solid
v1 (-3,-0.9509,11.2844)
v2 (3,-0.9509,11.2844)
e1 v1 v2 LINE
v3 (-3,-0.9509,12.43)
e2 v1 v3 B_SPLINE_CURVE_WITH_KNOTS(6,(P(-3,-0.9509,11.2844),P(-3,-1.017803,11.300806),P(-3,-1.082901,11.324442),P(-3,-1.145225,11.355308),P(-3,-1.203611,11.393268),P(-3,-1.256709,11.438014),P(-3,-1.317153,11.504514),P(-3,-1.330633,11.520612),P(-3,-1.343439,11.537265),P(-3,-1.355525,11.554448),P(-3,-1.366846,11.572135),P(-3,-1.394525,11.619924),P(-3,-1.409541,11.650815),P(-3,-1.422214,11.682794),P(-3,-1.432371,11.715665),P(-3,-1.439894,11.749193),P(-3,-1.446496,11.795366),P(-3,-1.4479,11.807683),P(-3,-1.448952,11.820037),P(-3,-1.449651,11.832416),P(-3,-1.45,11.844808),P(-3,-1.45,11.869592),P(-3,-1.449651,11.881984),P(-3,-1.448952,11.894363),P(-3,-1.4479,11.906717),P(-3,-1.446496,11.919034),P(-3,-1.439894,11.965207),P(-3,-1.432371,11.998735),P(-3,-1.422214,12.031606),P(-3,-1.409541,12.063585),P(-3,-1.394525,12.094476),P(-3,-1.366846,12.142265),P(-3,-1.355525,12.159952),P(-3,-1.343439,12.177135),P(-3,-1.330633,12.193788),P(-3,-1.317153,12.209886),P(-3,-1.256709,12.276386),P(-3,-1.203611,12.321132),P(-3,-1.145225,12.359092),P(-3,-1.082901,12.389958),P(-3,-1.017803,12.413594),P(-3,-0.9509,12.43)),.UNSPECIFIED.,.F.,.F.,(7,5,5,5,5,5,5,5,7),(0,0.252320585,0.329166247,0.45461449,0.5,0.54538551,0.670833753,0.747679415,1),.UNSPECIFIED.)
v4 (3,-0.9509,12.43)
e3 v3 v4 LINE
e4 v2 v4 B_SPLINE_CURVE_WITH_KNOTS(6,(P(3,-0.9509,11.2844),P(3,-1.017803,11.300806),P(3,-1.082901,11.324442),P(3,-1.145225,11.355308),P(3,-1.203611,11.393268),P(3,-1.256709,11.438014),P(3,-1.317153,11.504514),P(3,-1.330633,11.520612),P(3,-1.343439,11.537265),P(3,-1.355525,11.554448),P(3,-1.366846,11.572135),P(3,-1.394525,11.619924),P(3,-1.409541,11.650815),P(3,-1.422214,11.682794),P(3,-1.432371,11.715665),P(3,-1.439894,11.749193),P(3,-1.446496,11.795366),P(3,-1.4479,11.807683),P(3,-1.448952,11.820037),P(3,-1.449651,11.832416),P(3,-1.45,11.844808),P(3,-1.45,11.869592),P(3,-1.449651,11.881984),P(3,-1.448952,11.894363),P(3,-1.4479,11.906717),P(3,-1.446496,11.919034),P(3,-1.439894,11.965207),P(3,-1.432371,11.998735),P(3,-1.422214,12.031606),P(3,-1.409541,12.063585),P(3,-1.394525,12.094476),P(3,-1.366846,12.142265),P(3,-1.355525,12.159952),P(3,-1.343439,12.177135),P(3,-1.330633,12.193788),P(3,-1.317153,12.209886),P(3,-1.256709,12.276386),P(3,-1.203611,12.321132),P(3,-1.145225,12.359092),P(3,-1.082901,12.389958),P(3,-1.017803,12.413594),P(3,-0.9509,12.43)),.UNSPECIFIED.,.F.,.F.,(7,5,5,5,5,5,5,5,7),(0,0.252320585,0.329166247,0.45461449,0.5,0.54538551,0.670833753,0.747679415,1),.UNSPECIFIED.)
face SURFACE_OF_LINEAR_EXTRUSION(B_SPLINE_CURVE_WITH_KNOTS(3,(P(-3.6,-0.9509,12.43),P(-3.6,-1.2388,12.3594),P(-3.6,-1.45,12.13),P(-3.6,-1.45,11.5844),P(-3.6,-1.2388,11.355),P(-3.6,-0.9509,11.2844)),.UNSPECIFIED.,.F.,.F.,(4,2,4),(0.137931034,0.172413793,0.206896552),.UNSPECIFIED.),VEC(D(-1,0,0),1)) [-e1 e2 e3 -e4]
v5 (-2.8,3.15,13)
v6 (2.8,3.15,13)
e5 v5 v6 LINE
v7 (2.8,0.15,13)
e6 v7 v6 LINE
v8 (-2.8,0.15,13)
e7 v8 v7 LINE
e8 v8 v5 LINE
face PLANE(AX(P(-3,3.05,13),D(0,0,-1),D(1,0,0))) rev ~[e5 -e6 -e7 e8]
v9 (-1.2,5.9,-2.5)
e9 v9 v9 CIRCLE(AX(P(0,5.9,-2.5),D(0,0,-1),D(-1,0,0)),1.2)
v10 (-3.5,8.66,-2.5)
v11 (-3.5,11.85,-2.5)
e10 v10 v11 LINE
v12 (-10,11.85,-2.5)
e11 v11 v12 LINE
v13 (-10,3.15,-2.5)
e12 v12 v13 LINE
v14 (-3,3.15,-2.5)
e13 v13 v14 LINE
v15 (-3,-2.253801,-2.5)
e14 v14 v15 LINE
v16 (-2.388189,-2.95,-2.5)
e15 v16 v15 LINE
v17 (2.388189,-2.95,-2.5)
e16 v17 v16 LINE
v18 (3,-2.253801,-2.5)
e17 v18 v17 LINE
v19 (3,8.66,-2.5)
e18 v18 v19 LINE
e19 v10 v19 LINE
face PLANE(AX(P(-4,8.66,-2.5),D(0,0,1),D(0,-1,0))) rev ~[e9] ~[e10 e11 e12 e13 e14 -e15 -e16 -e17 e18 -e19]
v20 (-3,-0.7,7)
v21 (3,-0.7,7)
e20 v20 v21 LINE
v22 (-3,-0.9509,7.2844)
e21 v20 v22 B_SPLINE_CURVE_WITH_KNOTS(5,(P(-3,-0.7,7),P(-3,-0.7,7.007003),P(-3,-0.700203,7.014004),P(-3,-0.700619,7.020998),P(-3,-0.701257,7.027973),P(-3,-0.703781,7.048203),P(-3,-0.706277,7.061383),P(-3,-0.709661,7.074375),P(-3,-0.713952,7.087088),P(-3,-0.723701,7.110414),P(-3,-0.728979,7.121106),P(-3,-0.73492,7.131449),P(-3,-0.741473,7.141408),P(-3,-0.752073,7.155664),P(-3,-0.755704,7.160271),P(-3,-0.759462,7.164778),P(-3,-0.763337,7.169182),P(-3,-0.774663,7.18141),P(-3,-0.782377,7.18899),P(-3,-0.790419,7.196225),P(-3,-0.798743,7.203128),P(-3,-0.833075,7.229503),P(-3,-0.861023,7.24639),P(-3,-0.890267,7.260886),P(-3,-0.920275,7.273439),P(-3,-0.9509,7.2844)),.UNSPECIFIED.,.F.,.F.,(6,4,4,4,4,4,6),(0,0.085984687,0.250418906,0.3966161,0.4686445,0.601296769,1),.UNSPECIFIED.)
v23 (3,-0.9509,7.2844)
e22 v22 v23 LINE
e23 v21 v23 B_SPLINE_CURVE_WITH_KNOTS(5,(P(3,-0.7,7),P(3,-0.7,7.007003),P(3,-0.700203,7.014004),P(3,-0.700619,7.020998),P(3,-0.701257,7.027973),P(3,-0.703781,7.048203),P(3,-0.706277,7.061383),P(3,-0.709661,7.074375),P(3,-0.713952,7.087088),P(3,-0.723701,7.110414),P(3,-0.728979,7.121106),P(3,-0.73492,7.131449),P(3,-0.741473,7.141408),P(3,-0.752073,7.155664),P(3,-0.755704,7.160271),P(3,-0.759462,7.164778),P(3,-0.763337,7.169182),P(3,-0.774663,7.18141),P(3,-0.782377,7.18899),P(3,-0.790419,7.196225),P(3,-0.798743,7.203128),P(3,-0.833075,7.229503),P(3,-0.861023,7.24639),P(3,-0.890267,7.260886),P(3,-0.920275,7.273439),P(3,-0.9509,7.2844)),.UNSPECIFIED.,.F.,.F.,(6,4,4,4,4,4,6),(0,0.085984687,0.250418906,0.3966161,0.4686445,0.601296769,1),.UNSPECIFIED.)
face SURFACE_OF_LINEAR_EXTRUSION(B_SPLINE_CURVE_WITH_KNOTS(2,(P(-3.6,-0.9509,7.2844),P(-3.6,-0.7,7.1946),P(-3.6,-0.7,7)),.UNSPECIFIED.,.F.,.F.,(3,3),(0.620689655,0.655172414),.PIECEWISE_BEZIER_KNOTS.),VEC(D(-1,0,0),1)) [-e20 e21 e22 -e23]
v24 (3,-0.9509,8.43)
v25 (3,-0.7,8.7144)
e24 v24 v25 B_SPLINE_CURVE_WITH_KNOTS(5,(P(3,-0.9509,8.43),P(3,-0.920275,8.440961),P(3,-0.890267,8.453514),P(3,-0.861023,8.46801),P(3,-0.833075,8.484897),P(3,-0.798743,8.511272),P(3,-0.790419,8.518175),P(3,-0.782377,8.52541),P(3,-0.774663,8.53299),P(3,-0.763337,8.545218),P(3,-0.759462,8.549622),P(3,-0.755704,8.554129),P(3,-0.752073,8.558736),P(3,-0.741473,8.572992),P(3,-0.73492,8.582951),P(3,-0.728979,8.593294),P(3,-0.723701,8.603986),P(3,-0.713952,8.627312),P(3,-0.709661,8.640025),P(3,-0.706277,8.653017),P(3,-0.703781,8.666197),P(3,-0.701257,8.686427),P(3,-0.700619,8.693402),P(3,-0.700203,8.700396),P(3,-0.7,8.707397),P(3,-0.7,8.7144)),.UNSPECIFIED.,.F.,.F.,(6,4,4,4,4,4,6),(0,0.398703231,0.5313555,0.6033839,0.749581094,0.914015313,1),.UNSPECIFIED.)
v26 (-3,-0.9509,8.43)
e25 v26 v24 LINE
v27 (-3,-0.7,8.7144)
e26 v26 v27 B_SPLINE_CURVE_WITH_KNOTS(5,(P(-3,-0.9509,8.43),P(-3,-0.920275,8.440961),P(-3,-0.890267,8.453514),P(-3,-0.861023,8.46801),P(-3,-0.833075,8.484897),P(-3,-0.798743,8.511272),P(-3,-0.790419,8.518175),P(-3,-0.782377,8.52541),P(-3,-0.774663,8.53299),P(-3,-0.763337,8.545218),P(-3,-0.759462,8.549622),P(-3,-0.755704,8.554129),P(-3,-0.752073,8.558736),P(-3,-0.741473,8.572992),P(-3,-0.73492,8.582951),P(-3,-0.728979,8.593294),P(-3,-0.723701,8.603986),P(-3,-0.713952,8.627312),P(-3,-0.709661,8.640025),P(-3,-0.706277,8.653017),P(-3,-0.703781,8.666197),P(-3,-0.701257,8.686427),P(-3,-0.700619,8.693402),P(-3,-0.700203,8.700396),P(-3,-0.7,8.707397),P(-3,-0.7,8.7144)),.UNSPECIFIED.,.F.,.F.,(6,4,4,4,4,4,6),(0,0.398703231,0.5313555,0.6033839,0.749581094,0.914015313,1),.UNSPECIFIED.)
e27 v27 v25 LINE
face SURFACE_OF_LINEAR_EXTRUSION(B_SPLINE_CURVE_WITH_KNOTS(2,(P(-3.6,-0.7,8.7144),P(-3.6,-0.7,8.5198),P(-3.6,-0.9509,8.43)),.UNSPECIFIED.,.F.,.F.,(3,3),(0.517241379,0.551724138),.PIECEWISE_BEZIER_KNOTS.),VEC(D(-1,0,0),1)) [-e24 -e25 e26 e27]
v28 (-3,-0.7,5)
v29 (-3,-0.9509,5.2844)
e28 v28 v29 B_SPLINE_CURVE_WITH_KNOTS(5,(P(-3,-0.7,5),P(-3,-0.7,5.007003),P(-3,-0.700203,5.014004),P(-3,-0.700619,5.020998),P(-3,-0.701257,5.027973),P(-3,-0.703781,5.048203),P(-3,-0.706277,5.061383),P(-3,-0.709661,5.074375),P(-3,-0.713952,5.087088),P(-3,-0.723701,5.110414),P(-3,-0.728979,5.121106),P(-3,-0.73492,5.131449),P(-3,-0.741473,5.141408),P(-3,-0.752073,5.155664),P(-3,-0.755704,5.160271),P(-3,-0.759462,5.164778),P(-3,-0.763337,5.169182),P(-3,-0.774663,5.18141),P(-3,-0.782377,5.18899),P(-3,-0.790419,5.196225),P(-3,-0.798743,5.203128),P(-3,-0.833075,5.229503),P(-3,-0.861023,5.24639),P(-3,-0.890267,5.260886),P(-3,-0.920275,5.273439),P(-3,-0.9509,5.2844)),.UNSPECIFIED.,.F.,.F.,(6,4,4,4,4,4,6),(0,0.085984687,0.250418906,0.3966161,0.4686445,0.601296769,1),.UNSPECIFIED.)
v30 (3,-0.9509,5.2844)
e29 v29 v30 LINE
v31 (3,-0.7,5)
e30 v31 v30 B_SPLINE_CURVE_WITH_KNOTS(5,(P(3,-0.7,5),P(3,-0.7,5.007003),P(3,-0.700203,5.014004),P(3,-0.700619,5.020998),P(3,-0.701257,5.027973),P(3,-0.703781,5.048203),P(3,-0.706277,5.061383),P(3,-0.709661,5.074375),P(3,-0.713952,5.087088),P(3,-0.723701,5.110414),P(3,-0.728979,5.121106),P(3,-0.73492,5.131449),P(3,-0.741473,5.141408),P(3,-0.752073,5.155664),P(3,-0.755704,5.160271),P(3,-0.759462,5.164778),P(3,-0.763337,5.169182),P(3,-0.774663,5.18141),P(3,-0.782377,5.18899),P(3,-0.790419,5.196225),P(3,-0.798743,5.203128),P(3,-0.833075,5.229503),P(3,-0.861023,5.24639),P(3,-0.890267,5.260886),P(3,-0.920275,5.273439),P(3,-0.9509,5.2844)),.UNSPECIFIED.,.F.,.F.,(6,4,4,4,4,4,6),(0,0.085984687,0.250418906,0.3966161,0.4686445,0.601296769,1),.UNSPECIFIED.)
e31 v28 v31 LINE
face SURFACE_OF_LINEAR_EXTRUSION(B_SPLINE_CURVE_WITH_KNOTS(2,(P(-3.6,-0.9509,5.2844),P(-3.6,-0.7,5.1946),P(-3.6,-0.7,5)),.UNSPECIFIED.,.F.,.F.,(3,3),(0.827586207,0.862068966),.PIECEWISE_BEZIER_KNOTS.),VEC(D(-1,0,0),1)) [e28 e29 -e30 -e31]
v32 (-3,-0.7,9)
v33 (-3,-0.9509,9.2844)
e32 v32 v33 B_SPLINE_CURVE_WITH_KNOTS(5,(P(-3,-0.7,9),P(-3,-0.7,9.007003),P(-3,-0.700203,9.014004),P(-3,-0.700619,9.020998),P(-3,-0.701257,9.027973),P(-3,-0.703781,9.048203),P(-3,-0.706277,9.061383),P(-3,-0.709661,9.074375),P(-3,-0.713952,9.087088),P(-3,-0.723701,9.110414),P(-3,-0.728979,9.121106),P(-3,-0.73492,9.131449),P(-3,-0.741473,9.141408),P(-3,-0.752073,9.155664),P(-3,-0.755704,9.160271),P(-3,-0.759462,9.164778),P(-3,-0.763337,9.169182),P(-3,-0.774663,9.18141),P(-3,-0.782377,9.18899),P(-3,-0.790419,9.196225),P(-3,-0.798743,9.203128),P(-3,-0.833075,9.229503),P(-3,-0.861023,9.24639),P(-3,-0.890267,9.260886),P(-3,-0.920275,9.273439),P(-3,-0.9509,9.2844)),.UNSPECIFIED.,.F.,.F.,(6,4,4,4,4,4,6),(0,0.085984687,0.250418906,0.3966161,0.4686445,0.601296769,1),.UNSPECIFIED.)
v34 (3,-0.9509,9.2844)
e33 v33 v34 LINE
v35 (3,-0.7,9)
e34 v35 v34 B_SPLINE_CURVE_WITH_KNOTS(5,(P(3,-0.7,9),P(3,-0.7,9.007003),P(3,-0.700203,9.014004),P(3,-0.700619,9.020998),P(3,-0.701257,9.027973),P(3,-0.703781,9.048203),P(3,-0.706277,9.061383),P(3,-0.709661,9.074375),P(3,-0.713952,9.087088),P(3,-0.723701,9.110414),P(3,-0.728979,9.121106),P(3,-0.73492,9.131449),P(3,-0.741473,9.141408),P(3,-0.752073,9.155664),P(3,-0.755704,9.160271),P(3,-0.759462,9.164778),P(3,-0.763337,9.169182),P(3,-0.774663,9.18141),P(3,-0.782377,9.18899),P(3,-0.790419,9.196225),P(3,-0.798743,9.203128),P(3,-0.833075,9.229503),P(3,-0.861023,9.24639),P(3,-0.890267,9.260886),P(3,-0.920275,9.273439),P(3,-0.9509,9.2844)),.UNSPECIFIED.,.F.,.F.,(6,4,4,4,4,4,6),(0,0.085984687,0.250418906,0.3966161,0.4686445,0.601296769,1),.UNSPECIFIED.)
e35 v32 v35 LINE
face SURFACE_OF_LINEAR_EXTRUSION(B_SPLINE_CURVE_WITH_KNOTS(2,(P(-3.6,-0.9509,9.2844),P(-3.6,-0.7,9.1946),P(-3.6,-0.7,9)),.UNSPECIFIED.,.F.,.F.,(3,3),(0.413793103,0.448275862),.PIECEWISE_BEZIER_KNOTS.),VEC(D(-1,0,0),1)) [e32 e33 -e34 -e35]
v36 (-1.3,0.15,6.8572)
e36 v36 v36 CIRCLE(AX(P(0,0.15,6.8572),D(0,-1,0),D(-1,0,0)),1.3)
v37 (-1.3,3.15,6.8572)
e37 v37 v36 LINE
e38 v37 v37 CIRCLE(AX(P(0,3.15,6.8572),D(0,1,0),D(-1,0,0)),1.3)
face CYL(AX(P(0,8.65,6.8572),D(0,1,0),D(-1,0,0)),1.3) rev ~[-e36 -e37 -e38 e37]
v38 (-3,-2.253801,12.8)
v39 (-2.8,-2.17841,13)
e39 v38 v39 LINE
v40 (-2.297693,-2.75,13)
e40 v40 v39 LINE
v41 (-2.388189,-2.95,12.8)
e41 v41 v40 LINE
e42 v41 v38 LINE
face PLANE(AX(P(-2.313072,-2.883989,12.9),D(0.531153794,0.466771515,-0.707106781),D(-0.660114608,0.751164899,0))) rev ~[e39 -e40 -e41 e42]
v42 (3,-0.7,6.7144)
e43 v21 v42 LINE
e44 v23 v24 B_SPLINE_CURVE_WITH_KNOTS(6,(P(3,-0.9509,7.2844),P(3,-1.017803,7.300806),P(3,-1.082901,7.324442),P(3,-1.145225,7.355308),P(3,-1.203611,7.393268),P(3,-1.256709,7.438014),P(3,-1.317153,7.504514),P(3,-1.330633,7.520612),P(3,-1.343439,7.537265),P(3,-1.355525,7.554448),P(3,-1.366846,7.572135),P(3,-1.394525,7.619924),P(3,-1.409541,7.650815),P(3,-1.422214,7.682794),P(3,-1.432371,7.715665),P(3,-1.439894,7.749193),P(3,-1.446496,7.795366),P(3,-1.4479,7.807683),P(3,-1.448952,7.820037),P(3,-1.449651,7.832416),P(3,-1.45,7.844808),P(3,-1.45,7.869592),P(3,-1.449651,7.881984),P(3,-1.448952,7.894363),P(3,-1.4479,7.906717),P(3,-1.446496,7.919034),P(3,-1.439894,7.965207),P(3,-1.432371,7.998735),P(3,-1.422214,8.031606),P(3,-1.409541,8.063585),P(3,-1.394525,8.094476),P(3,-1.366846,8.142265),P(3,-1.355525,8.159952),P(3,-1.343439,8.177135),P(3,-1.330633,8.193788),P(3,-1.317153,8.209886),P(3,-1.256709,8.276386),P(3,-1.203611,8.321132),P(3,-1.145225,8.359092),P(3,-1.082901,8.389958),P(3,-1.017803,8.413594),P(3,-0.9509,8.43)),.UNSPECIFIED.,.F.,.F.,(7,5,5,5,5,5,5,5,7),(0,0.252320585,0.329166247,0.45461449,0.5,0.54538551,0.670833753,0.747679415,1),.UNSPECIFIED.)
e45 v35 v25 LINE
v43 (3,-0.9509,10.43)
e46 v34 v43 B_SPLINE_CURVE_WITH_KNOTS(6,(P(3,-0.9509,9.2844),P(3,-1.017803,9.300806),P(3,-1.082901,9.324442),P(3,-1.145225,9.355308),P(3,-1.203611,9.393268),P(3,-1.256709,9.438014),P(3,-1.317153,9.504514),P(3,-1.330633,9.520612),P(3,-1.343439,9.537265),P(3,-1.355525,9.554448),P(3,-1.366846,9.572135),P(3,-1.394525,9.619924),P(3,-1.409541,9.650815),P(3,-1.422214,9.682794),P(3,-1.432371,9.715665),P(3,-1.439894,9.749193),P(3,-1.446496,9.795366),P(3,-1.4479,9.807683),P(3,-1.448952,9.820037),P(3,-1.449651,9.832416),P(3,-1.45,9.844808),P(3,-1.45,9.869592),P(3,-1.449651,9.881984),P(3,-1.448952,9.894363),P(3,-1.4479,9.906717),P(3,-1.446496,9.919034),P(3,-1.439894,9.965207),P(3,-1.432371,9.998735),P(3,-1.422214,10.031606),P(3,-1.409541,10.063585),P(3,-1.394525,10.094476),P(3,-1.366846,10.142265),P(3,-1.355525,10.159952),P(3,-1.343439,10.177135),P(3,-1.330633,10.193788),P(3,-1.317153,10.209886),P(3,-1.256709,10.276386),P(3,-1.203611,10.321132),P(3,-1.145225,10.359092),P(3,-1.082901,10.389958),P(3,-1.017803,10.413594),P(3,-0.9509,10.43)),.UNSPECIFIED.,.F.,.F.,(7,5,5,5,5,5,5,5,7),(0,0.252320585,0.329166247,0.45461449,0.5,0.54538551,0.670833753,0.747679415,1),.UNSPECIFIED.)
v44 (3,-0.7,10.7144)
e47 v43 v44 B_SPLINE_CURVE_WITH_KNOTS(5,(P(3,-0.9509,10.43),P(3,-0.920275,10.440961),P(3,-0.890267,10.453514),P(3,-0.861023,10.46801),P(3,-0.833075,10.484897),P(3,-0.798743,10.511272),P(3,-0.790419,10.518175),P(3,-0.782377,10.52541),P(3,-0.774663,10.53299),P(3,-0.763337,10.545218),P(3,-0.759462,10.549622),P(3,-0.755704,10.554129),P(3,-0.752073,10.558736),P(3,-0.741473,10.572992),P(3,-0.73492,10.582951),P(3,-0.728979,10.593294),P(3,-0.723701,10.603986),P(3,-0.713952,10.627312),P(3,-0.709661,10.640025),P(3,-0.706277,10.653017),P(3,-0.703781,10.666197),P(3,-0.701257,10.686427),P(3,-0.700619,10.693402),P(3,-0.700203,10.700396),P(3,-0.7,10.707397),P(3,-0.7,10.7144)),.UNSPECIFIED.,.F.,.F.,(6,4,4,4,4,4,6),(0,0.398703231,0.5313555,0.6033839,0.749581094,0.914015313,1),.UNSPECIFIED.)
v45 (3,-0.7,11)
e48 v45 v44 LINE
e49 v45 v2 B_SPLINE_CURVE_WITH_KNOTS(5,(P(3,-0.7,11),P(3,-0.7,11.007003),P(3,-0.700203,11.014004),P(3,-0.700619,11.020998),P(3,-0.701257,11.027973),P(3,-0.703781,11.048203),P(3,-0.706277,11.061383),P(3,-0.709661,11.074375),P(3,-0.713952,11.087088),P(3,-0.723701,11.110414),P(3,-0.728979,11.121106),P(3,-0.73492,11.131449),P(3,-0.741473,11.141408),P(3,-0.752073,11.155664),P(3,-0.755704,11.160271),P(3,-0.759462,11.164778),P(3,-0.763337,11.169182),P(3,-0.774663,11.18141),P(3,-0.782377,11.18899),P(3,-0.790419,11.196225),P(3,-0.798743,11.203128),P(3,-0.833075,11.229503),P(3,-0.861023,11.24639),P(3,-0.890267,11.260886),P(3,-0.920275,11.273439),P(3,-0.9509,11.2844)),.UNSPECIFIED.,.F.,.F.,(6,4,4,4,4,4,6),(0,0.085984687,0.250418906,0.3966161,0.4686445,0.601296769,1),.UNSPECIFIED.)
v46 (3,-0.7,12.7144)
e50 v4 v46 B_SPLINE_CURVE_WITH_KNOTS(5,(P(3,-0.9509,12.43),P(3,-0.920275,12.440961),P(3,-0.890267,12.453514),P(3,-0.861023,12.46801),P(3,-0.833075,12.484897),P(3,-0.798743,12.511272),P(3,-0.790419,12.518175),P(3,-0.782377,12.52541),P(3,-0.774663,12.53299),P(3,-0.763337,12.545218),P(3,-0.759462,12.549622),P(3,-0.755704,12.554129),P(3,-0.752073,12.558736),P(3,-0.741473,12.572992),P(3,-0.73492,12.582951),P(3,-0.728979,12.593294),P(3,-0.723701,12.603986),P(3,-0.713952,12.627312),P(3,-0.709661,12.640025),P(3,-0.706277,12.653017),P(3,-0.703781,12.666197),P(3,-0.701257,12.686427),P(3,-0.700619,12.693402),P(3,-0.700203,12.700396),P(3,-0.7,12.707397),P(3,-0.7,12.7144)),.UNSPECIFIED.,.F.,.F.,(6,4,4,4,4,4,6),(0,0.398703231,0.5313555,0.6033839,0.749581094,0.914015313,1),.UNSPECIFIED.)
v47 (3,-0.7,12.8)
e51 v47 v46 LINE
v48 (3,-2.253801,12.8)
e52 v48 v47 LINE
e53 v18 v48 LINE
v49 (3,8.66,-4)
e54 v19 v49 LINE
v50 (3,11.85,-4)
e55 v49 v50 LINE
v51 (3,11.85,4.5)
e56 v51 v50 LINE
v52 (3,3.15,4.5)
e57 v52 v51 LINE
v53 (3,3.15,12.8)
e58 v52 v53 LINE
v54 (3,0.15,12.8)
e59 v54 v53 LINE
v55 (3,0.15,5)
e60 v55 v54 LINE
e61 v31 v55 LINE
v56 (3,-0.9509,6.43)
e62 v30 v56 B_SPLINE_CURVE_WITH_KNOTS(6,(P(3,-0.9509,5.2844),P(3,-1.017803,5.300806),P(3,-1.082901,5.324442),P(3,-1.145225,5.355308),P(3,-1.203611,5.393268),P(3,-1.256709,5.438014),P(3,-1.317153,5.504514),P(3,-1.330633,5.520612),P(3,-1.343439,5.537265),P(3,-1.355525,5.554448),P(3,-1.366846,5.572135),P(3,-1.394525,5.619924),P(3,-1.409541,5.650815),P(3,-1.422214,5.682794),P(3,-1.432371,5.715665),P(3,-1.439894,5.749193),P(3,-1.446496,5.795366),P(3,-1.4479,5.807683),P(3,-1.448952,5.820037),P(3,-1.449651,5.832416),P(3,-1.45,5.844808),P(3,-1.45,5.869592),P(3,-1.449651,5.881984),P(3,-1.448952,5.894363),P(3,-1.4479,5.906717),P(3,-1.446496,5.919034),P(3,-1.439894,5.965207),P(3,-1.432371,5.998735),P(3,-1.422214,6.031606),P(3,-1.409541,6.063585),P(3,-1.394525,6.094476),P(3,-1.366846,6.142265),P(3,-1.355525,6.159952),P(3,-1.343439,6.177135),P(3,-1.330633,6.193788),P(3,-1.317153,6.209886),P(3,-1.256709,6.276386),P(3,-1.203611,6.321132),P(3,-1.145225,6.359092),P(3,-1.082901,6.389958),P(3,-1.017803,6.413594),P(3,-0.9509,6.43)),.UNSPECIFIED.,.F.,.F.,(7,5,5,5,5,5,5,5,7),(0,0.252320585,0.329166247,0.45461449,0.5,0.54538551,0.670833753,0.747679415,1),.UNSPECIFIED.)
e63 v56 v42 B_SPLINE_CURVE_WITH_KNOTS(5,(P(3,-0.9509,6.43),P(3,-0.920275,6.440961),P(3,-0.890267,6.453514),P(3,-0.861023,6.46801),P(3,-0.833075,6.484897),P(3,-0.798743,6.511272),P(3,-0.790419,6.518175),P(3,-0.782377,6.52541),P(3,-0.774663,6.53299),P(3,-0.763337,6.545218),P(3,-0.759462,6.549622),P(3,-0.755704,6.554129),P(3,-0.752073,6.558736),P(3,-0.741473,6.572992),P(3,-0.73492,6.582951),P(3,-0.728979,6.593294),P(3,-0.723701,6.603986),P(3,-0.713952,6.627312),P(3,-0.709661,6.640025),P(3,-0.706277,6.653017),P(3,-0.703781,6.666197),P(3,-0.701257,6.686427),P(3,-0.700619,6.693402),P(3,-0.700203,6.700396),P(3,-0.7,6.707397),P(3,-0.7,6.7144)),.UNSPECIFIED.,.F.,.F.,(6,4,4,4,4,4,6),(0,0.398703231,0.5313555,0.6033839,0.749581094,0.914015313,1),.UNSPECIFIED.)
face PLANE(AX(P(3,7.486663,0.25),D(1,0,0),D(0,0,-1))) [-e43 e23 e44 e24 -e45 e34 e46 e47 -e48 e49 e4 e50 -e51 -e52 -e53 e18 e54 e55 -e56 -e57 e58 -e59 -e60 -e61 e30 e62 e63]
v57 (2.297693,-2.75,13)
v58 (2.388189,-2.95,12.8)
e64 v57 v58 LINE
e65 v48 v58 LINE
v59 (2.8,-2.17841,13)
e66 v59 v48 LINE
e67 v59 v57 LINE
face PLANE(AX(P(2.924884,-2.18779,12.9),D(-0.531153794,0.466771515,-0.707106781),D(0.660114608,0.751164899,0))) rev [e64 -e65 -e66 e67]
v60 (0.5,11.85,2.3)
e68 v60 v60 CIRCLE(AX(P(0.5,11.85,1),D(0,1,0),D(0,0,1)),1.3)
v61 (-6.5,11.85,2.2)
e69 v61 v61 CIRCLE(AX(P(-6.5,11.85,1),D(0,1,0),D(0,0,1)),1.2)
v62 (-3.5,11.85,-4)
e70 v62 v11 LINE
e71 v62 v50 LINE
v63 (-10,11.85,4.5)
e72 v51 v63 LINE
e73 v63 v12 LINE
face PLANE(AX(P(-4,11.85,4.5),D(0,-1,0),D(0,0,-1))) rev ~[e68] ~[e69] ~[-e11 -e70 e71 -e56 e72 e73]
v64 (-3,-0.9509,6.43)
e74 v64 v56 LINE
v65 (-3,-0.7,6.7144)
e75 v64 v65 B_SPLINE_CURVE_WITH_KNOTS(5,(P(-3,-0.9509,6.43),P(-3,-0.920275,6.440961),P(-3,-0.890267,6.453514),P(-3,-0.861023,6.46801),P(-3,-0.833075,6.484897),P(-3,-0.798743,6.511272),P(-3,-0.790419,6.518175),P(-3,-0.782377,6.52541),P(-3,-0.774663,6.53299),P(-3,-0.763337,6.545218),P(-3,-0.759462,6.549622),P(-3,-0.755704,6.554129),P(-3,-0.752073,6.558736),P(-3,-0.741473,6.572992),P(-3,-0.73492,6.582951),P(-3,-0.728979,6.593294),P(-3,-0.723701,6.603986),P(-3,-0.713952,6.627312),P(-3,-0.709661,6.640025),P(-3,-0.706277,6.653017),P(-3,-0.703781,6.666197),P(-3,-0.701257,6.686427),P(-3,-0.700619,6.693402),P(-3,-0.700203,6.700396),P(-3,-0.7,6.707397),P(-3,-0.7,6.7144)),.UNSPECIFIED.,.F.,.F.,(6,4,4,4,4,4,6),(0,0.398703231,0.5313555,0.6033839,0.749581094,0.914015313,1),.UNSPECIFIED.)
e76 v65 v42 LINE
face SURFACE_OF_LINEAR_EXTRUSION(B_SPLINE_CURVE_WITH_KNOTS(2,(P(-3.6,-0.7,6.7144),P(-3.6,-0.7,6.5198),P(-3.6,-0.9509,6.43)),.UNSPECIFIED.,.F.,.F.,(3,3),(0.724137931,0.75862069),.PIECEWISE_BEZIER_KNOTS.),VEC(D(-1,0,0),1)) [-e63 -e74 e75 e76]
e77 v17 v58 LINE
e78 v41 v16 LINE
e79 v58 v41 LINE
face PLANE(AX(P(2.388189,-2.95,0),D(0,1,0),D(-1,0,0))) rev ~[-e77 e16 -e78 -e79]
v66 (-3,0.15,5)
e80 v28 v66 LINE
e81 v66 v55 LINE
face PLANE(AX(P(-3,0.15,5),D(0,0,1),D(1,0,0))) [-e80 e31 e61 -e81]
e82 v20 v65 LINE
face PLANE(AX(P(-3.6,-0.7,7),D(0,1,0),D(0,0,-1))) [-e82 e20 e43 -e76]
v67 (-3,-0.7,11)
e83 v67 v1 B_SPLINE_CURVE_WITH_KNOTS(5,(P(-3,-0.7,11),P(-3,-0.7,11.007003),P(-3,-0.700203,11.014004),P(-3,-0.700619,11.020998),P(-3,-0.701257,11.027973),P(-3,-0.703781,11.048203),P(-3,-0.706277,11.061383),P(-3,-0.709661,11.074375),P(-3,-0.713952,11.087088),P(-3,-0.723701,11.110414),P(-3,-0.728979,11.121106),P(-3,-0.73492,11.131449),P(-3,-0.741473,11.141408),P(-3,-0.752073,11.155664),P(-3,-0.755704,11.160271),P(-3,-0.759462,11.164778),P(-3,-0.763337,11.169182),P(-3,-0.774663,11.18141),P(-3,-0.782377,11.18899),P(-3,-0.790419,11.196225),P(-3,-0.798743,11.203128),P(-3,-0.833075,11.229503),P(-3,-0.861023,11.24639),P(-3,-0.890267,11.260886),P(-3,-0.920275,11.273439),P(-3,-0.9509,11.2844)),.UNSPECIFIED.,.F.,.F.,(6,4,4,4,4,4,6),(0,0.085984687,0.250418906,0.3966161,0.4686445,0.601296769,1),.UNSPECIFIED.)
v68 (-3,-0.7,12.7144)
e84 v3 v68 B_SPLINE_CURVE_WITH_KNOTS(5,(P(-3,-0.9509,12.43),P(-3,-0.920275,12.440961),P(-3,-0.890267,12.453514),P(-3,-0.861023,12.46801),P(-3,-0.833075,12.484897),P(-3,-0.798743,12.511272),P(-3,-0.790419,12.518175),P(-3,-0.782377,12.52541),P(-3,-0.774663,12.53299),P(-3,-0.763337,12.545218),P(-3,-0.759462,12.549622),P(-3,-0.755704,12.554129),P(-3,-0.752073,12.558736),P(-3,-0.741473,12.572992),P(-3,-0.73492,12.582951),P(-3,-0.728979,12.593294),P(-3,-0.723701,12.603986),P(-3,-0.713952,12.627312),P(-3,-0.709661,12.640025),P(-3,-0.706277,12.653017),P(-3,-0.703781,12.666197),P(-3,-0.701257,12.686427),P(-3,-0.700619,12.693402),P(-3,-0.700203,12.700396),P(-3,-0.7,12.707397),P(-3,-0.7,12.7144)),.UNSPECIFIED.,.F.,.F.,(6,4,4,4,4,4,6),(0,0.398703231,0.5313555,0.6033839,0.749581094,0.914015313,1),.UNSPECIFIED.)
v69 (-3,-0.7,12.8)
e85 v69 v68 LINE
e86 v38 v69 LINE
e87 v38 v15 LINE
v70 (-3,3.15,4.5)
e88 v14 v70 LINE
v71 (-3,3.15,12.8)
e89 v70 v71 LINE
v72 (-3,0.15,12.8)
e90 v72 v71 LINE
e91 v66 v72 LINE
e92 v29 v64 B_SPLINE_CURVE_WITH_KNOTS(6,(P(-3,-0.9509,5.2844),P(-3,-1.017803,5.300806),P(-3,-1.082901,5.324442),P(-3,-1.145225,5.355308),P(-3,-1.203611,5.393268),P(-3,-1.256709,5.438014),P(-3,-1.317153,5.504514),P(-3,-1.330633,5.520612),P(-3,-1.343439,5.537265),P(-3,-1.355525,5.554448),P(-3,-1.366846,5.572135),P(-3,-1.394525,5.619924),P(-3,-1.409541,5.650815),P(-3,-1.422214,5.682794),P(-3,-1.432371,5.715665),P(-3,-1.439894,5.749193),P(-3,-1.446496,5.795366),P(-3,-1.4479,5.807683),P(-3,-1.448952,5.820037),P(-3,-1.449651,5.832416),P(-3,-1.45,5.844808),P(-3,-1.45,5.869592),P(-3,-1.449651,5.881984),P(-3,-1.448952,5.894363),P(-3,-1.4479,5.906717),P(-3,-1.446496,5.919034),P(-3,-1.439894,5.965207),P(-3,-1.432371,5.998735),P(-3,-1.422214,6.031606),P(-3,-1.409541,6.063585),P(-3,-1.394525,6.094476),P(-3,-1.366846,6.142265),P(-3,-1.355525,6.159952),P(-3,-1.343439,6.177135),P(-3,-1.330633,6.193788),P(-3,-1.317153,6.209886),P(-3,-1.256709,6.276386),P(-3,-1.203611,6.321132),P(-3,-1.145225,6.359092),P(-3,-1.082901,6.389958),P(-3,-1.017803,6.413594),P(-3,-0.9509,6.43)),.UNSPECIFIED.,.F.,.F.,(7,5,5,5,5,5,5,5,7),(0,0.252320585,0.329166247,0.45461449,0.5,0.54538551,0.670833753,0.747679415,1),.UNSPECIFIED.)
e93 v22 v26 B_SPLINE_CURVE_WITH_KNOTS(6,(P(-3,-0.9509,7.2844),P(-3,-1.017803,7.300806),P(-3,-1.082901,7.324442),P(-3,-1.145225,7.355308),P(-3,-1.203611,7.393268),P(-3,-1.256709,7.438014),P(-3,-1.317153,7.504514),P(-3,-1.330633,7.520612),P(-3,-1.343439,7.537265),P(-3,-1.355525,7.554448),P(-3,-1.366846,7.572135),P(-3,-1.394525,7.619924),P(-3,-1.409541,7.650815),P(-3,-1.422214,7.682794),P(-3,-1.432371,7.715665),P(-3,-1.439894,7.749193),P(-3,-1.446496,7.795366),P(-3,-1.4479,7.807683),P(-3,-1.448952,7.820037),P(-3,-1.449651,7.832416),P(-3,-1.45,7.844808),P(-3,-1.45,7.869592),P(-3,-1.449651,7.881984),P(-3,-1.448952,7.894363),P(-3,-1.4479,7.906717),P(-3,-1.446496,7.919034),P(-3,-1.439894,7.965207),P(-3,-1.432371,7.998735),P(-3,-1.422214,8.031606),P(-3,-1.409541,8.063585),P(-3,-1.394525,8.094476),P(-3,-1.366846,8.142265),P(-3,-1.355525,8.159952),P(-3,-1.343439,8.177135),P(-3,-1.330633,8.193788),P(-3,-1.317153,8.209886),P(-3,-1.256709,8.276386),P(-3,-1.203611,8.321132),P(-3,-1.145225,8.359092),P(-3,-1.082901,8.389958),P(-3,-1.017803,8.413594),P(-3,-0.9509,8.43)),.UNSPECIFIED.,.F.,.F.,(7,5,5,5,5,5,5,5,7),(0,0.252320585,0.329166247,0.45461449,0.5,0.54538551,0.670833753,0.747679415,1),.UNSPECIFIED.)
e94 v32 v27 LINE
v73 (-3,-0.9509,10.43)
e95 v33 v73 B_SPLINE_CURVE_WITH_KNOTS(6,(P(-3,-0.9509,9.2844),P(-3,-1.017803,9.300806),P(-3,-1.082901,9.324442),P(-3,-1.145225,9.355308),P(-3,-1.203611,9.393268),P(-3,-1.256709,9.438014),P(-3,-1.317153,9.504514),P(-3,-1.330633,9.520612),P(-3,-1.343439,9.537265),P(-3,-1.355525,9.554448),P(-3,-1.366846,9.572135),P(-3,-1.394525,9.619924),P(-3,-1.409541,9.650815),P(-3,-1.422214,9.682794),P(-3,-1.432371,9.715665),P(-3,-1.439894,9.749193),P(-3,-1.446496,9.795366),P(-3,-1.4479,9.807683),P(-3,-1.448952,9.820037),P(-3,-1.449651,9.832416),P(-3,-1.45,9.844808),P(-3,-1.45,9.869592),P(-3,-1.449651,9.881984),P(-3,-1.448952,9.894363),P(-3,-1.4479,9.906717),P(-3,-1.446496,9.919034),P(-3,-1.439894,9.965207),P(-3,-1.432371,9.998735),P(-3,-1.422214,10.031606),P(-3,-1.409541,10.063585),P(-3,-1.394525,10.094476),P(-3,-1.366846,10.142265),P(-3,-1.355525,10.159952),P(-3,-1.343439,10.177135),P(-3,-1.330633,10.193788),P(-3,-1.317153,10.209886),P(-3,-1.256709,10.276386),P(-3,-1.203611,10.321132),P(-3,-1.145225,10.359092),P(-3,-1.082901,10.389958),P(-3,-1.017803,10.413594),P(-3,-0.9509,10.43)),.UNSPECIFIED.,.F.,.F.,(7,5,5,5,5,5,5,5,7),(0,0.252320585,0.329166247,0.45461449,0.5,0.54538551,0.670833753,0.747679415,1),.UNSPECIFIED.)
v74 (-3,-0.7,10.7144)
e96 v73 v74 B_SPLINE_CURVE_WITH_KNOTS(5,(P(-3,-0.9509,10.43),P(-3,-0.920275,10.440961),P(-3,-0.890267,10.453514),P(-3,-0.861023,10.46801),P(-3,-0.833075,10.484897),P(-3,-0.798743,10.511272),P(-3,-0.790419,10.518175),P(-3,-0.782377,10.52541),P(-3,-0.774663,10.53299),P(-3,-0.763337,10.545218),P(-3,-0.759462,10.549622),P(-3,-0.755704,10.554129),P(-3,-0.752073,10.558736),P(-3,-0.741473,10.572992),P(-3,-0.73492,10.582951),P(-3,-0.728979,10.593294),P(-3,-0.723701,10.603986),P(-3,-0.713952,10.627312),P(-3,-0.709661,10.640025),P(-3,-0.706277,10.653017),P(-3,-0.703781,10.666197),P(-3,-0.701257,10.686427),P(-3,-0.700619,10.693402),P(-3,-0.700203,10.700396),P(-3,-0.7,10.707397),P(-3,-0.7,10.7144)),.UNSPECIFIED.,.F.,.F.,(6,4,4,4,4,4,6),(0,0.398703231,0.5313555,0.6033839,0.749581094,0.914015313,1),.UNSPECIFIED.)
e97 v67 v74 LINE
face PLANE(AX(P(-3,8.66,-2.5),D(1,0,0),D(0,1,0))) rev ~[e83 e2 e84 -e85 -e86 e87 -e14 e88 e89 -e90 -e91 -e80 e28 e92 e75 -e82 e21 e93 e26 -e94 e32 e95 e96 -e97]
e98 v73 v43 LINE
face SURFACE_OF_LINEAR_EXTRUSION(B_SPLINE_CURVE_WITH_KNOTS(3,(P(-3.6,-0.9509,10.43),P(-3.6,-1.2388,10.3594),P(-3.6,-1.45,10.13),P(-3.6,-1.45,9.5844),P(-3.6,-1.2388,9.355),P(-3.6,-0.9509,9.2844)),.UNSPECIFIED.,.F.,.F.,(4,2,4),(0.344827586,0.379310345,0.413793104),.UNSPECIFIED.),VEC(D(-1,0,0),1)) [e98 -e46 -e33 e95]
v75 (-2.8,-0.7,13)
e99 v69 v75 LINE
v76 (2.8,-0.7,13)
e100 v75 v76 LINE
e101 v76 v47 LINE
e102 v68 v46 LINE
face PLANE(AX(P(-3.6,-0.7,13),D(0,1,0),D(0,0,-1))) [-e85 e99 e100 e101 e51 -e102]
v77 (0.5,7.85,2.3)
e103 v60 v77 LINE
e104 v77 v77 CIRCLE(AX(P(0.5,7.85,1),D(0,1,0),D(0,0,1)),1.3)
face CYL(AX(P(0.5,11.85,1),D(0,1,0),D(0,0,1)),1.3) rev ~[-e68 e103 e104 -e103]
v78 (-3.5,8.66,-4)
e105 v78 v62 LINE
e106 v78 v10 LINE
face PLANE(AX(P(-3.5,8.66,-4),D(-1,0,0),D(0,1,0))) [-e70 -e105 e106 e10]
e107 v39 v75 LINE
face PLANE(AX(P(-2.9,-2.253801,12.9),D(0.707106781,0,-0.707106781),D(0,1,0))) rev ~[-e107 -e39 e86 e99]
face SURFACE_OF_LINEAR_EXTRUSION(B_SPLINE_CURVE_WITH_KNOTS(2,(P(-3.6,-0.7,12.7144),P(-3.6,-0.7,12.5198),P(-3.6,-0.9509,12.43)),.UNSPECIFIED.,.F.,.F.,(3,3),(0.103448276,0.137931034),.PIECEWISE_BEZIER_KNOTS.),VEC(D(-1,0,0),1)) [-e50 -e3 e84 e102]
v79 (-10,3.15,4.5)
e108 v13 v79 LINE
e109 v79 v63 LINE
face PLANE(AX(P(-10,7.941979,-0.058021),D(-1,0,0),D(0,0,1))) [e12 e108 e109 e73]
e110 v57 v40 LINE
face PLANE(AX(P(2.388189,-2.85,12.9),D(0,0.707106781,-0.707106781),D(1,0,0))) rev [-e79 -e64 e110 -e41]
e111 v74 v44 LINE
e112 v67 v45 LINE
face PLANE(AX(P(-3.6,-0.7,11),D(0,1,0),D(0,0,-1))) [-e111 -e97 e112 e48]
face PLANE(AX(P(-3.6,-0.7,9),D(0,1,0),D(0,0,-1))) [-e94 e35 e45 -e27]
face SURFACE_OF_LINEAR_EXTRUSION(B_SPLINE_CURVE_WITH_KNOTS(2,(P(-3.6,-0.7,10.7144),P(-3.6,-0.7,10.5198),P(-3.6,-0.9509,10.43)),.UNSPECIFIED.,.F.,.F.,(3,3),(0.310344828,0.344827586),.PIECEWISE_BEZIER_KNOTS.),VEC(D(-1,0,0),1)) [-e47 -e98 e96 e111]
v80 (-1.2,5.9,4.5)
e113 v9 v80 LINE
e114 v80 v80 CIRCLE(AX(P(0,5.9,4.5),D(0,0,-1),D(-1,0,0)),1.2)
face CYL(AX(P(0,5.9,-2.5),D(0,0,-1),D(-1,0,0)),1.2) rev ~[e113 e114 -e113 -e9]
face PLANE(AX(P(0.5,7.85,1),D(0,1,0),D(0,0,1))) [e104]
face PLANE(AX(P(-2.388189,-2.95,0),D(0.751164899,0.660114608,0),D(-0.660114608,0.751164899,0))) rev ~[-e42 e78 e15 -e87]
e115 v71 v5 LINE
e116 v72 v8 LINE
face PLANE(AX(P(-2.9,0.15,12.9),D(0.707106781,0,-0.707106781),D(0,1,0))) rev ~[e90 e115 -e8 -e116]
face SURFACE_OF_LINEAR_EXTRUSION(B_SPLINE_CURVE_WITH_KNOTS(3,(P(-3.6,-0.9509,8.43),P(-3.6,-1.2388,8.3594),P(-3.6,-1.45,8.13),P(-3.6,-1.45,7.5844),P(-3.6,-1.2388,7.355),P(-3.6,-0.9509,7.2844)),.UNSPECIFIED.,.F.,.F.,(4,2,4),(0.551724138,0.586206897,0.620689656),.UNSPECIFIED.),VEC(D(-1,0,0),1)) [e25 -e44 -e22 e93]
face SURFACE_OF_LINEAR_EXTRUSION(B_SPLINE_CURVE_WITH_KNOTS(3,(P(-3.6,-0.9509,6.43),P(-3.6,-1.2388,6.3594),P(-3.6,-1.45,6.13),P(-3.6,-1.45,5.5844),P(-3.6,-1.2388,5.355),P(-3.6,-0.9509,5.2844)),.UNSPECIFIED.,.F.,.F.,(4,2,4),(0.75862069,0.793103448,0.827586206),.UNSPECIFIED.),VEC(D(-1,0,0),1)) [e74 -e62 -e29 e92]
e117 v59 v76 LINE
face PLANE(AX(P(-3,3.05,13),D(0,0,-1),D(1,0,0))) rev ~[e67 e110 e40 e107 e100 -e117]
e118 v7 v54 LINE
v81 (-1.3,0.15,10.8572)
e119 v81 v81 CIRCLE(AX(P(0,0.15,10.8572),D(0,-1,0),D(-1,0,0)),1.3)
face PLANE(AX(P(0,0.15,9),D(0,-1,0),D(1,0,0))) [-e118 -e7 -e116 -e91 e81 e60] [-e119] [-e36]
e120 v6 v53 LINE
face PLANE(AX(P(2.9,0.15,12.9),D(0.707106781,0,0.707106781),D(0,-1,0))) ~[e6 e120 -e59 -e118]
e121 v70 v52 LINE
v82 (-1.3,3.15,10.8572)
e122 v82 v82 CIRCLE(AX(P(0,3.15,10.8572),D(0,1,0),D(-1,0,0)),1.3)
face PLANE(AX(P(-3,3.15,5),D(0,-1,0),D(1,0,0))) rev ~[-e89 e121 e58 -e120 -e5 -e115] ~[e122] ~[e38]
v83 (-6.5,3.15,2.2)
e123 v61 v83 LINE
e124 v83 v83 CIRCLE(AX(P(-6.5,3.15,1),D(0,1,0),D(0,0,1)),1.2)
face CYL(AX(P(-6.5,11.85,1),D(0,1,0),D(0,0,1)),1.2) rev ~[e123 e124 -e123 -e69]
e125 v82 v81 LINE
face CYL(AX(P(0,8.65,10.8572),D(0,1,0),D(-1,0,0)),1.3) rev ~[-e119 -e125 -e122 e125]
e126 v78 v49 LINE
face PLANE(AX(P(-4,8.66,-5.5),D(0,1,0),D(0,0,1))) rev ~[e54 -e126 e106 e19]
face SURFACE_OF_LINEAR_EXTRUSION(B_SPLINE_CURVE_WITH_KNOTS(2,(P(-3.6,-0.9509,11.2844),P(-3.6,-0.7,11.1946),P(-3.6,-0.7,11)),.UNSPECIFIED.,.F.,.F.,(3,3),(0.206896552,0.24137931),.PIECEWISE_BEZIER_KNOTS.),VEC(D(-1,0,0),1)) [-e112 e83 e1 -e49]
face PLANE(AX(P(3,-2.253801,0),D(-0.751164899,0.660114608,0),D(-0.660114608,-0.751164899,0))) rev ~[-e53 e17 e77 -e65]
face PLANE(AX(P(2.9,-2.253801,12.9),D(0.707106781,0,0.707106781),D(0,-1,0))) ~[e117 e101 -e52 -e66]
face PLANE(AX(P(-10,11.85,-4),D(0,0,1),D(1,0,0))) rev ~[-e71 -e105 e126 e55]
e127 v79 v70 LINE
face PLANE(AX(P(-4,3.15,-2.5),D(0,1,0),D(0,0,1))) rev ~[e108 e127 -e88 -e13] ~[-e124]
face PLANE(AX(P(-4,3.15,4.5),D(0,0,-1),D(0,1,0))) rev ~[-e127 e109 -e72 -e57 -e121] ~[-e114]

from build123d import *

# Parameters (mm, degrees)
BOSS_EXTRUDE1_DEPTH     = 13
SKETCH6_W               = 6
SKETCH6_H               = 5
BOSS_EXTRUDE4_DEPTH     = 5.6
SKETCH16_W              = 6
SKETCH16_H              = 8
BOSS_EXTRUDE5_DEPTH     = 0.1
CUT_EXTRUDE6_DEPTH      = 4
CUT_EXTRUDE6_DEPTH_BACK = 3.6
SKETCH15_R              = 1.3
CUT_EXTRUDE7_DEPTH      = 8.7202
CUT_EXTRUDE8_START      = -0.2202
SKETCH19_W              = 6
SKETCH19_H              = 8
SKETCH19_R              = 1.3
CUT_EXTRUDE8_DEPTH      = 0.2202
SKETCH12_R              = 1.2
CUT_EXTRUDE5_DEPTH      = 6
CHAMFER1_SIZE           = 0.2
SKETCH21_R              = 1.2
BOSS_EXTRUDE6_DEPTH     = 2.5
SKETCH24_W              = 6
SKETCH24_H              = 5.5
CUT_EXTRUDE10_DEPTH     = 8.5
SKETCH25_W              = 6
SKETCH25_H              = 7
BOSS_EXTRUDE8_DEPTH     = 12.9
SKETCH26_W              = 6
SKETCH26_H              = 7.39
BOSS_EXTRUDE9_DEPTH     = 3
SKETCH30_R              = 1.2
CUT_EXTRUDE13_DEPTH     = 8
SKETCH31_W              = 7
SKETCH31_H              = 9
BOSS_EXTRUDE11_DEPTH    = 1
SKETCH32_W              = 7
SKETCH32_H              = 9
BOSS_EXTRUDE12_DEPTH    = 1
BOSS_EXTRUDE13_DEPTH    = 1
BOSS_EXTRUDE14_DEPTH    = 1
SKETCH35_W              = 10
SKETCH35_H              = 4.2
CUT_EXTRUDE14_DEPTH     = 10
BOSS_EXTRUDE15_DEPTH    = 6
SKETCH38_R              = 1.3
CUT_EXTRUDE15_DEPTH     = 4
SKETCH39_R              = 1.2
CUT_EXTRUDE16_DEPTH     = 10
SKETCH40_W              = 14
SKETCH40_H              = 1.5
CUT_EXTRUDE17_DEPTH     = 10
SKETCH41_W              = 6.5
SKETCH41_H              = 3.19
CUT_EXTRUDE18_DEPTH     = 1.5
CROQUIS3_W              = 8.5
CROQUIS3_H              = 8.726674232
CORTAR_EXTRUIR3_DEPTH   = 1


with BuildPart() as part:
    # Sketch1 → Boss-Extrude1 (new body)
    with BuildSketch(Plane.XY):
        Polygon((3, 3.05), (3, -2.253801214), (2.388188946, -2.95), (-2.388188946, -2.95), (-3, -2.253801214), (-3, 3.05), align=None)
    extrude(amount=BOSS_EXTRUDE1_DEPTH)

    # Sketch6 → Boss-Extrude4 (add)
    with BuildSketch(Plane(origin=(0, 3.05, 0), x_dir=(1, 0, 0), z_dir=(0, 1, 0))):
        with Locations((0, -2.5)):
            Rectangle(SKETCH6_W, SKETCH6_H)
    extrude(amount=BOSS_EXTRUDE4_DEPTH)

    # Sketch16 → Boss-Extrude5 (add)
    with BuildSketch(Plane(origin=(0, 3.05, 0), x_dir=(1, 0, 0), z_dir=(0, 1, 0))):
        with Locations((0, -9)):
            Rectangle(SKETCH16_W, SKETCH16_H)
    extrude(amount=BOSS_EXTRUDE5_DEPTH)

    # Sketch18 → Cut-Extrude6 (cut, two sides: drawn at the far end of the back side and taken through both)
    with BuildSketch(Plane(origin=(0, 0, 0), x_dir=(0, 0, -1), z_dir=(1, 0, 0)).offset(-CUT_EXTRUDE6_DEPTH_BACK)):
        with BuildLine():
            Line((-8.8572, -0.0702), (-12.8572, -0.0702))
            Line((-12.8572, -0.0702), (-13, -0.0702))
            Line((-13, -0.0702), (-13, -0.7))
            Line((-13, -0.7), (-12.8572, -0.7))
            Line((-12.8572, -0.7), (-12.7144, -0.7))
            add(Edge.make_bspline(
                [(-12.7144, -0.7), (-12.5198, -0.7), (-12.43, -0.9509)],
                knots=[0.103448276, 0.103448276, 0.103448276, 0.137931034, 0.137931034, 0.137931034], degree=2))
            add(Edge.make_bspline(
                [(-12.43, -0.9509), (-12.3594, -1.2388), (-12.13, -1.45), (-11.8572, -1.45)],
                knots=[0.137931034, 0.137931034, 0.137931034, 0.137931034, 0.172413793, 0.172413793, 0.172413793, 0.172413793], degree=3))
            add(Edge.make_bspline(
                [(-11.8572, -1.45), (-11.5844, -1.45), (-11.355, -1.2388), (-11.2844, -0.9509)],
                knots=[0.172413793, 0.172413793, 0.172413793, 0.172413793, 0.206896552, 0.206896552, 0.206896552, 0.206896552], degree=3))
            add(Edge.make_bspline(
                [(-11.2844, -0.9509), (-11.1946, -0.7), (-11, -0.7)],
                knots=[0.206896552, 0.206896552, 0.206896552, 0.24137931, 0.24137931, 0.24137931], degree=2))
            Line((-11, -0.7), (-10.8572, -0.7))
            Line((-10.8572, -0.7), (-10.7144, -0.7))
            add(Edge.make_bspline(
                [(-10.7144, -0.7), (-10.5198, -0.7), (-10.43, -0.9509)],
                knots=[0.310344828, 0.310344828, 0.310344828, 0.344827586, 0.344827586, 0.344827586], degree=2))
            add(Edge.make_bspline(
                [(-10.43, -0.9509), (-10.3594, -1.2388), (-10.13, -1.45), (-9.8572, -1.45)],
                knots=[0.344827586, 0.344827586, 0.344827586, 0.344827586, 0.379310345, 0.379310345, 0.379310345, 0.379310345], degree=3))
            add(Edge.make_bspline(
                [(-9.8572, -1.45), (-9.5844, -1.45), (-9.355, -1.2388), (-9.2844, -0.9509)],
                knots=[0.379310345, 0.379310345, 0.379310345, 0.379310345, 0.413793103, 0.413793103, 0.413793103, 0.413793103], degree=3))
            add(Edge.make_bspline(
                [(-9.2844, -0.9509), (-9.1946, -0.7), (-9, -0.7)],
                knots=[0.413793103, 0.413793103, 0.413793103, 0.448275862, 0.448275862, 0.448275862], degree=2))
            Line((-9, -0.7), (-8.8572, -0.7))
            Line((-8.8572, -0.7), (-8.7144, -0.7))
            add(Edge.make_bspline(
                [(-8.7144, -0.7), (-8.5198, -0.7), (-8.43, -0.9509)],
                knots=[0.517241379, 0.517241379, 0.517241379, 0.551724138, 0.551724138, 0.551724138], degree=2))
            add(Edge.make_bspline(
                [(-8.43, -0.9509), (-8.3594, -1.2388), (-8.13, -1.45), (-7.8572, -1.45)],
                knots=[0.551724138, 0.551724138, 0.551724138, 0.551724138, 0.586206897, 0.586206897, 0.586206897, 0.586206897], degree=3))
            add(Edge.make_bspline(
                [(-7.8572, -1.45), (-7.5844, -1.45), (-7.355, -1.2388), (-7.2844, -0.9509)],
                knots=[0.586206897, 0.586206897, 0.586206897, 0.586206897, 0.620689655, 0.620689655, 0.620689655, 0.620689655], degree=3))
            add(Edge.make_bspline(
                [(-7.2844, -0.9509), (-7.1946, -0.7), (-7, -0.7)],
                knots=[0.620689655, 0.620689655, 0.620689655, 0.655172414, 0.655172414, 0.655172414], degree=2))
            Line((-7, -0.7), (-6.8572, -0.7))
            Line((-6.8572, -0.7), (-6.7144, -0.7))
            add(Edge.make_bspline(
                [(-6.7144, -0.7), (-6.5198, -0.7), (-6.43, -0.9509)],
                knots=[0.724137931, 0.724137931, 0.724137931, 0.75862069, 0.75862069, 0.75862069], degree=2))
            add(Edge.make_bspline(
                [(-6.43, -0.9509), (-6.3594, -1.2388), (-6.13, -1.45), (-5.8572, -1.45)],
                knots=[0.75862069, 0.75862069, 0.75862069, 0.75862069, 0.793103448, 0.793103448, 0.793103448, 0.793103448], degree=3))
            add(Edge.make_bspline(
                [(-5.8572, -1.45), (-5.5844, -1.45), (-5.355, -1.2388), (-5.2844, -0.9509)],
                knots=[0.793103448, 0.793103448, 0.793103448, 0.793103448, 0.827586207, 0.827586207, 0.827586207, 0.827586207], degree=3))
            add(Edge.make_bspline(
                [(-5.2844, -0.9509), (-5.1946, -0.7), (-5, -0.7)],
                knots=[0.827586207, 0.827586207, 0.827586207, 0.862068966, 0.862068966, 0.862068966], degree=2))
            Line((-5, -0.7), (-5, -0.0702))
            Line((-5, -0.0702), (-8.8572, -0.0702))
        make_face()
    extrude(amount=CUT_EXTRUDE6_DEPTH + CUT_EXTRUDE6_DEPTH_BACK, mode=Mode.SUBTRACT)

    # Sketch15 → Cut-Extrude7 (cut)
    with BuildSketch(Plane(origin=(0, 8.65, 0), x_dir=(1, 0, 0), z_dir=(0, 1, 0))):
        with Locations(Location((0, -10.8572, 0), (0, 0, 180))):
            Circle(SKETCH15_R)
        with Locations(Location((0, -6.8572, 0), (0, 0, 180))):
            Circle(SKETCH15_R)
    extrude(amount=-CUT_EXTRUDE7_DEPTH, mode=Mode.SUBTRACT)

    # Sketch19 → Cut-Extrude8 (cut)
    with BuildSketch(Plane.XZ.offset(0.0702).offset(CUT_EXTRUDE8_START)):
        with Locations((0, 9)):
            Rectangle(SKETCH19_W, SKETCH19_H)
        with Locations(Location((0, 10.8572, 0), (0, 0, 180))):
            Circle(SKETCH19_R, mode=Mode.SUBTRACT)
        with Locations(Location((0, 6.8572, 0), (0, 0, 180))):
            Circle(SKETCH19_R, mode=Mode.SUBTRACT)
    extrude(amount=CUT_EXTRUDE8_DEPTH, mode=Mode.SUBTRACT)

    # Sketch12 → Cut-Extrude5 (cut)
    with BuildSketch(Plane.XY.offset(5)):
        with Locations((0, 5.85)):
            Circle(SKETCH12_R)
    extrude(amount=-CUT_EXTRUDE5_DEPTH, mode=Mode.SUBTRACT)

    # Chamfer1
    chamfer1_edges = [part.edges().sort_by_distance(p)[0] for p in [
        (-2.694094473, -2.601900607, 13),
        (0, -2.95, 13),
        (2.694094473, -2.601900607, 13),
        (3, 1.65, 13),
        (3, -1.476900607, 13),
        (-3, -1.476900607, 13),
        (-3, 1.65, 13),
    ]]
    chamfer(chamfer1_edges, length=CHAMFER1_SIZE)

    # Sketch21 → Boss-Extrude6 (add)
    with BuildSketch(Plane(origin=(0, 0, 0), x_dir=(-1, 0, 0), z_dir=(0, 0, -1))):
        Polygon((-2.388188946, -2.95), (2.388188946, -2.95), (3, -2.253801214), (3, 8.65), (-3, 8.65), (-3, -2.253801214), align=None)
        with Locations(Location((0, 5.85, 0), (0, 0, 180))):
            Circle(SKETCH21_R, mode=Mode.SUBTRACT)
    extrude(amount=BOSS_EXTRUDE6_DEPTH)

    # Sketch24 → Cut-Extrude10 (cut)
    with BuildSketch(Plane.XY.offset(5)):
        with Locations((0, 5.9)):
            Rectangle(SKETCH24_W, SKETCH24_H)
    extrude(amount=-CUT_EXTRUDE10_DEPTH, mode=Mode.SUBTRACT)

    # Sketch25 → Boss-Extrude8 (add)
    with BuildSketch(Plane(origin=(0, 3.15, 0), x_dir=(1, 0, 0), z_dir=(0, 1, 0))):
        with Locations((0, -1)):
            Rectangle(SKETCH25_W, SKETCH25_H)
    extrude(amount=BOSS_EXTRUDE8_DEPTH)

    # Sketch26 → Boss-Extrude9 (add)
    with BuildSketch(Plane(origin=(0, 0, -2.5), x_dir=(-1, 0, 0), z_dir=(0, 0, -1))):
        with Locations((0, 12.355)):
            Rectangle(SKETCH26_W, SKETCH26_H)
    extrude(amount=BOSS_EXTRUDE9_DEPTH)

    # Sketch30 → Cut-Extrude13 (cut)
    with BuildSketch(Plane(origin=(0, 0, -2.5), x_dir=(-1, 0, 0), z_dir=(0, 0, -1))):
        with Locations((0, 5.9)):
            Circle(SKETCH30_R)
    extrude(amount=-CUT_EXTRUDE13_DEPTH, mode=Mode.SUBTRACT)

    # Sketch31 → Boss-Extrude11 (add)
    with BuildSketch(Plane(origin=(3, 0, 0), x_dir=(0, 0, -1), z_dir=(1, 0, 0))):
        with Locations((-1, 7.65)):
            Rectangle(SKETCH31_W, SKETCH31_H)
    extrude(amount=BOSS_EXTRUDE11_DEPTH)

    # Sketch32 → Boss-Extrude12 (add)
    with BuildSketch(Plane.ZY.offset(3)):
        with Locations((1, 7.65)):
            Rectangle(SKETCH32_W, SKETCH32_H)
    extrude(amount=BOSS_EXTRUDE12_DEPTH)

    # Sketch33 → Boss-Extrude13 (add)
    with BuildSketch(Plane(origin=(3, 0, 0), x_dir=(0, 0, -1), z_dir=(1, 0, 0))):
        Polygon((2.5, 12.15), (2.5, 8.66), (5.5, 8.66), (5.5, 16.05), (-4.5, 16.05), (-4.5, 12.15), align=None)
    extrude(amount=BOSS_EXTRUDE13_DEPTH)

    # Sketch34 → Boss-Extrude14 (add)
    with BuildSketch(Plane.ZY.offset(3)):
        Polygon((-2.5, 12.15), (4.5, 12.15), (4.5, 16.05), (-5.5, 16.05), (-5.5, 8.66), (-2.5, 8.66), align=None)
    extrude(amount=BOSS_EXTRUDE14_DEPTH)

    # Sketch35 → Cut-Extrude14 (cut)
    with BuildSketch(Plane.ZY.offset(4)):
        with Locations((-0.5, 13.95)):
            Rectangle(SKETCH35_W, SKETCH35_H)
    extrude(amount=-CUT_EXTRUDE14_DEPTH, mode=Mode.SUBTRACT)

    # Sketch36 → Boss-Extrude15 (add)
    with BuildSketch(Plane.ZY.offset(4)):
        Polygon((4.5, 3.15), (4.5, 11.85), (-5.5, 11.85), (-5.5, 8.66), (-2.5, 8.66), (-2.5, 3.15), align=None)
    extrude(amount=BOSS_EXTRUDE15_DEPTH)

    # Sketch38 → Cut-Extrude15 (cut)
    with BuildSketch(Plane(origin=(0, 11.85, 0), x_dir=(1, 0, 0), z_dir=(0, 1, 0))):
        with Locations(Location((0.5, -1, 0), (0, 0, 270))):
            Circle(SKETCH38_R)
    extrude(amount=-CUT_EXTRUDE15_DEPTH, mode=Mode.SUBTRACT)

    # Sketch39 → Cut-Extrude16 (cut)
    with BuildSketch(Plane(origin=(0, 11.85, 0), x_dir=(1, 0, 0), z_dir=(0, 1, 0))):
        with Locations(Location((-6.5, -1, 0), (0, 0, 270))):
            Circle(SKETCH39_R)
    extrude(amount=-CUT_EXTRUDE16_DEPTH, mode=Mode.SUBTRACT)

    # Sketch40 → Cut-Extrude17 (cut)
    with BuildSketch(Plane(origin=(0, 11.85, 0), x_dir=(1, 0, 0), z_dir=(0, 1, 0))):
        with Locations((-3, 4.75)):
            Rectangle(SKETCH40_W, SKETCH40_H)
    extrude(amount=-CUT_EXTRUDE17_DEPTH, mode=Mode.SUBTRACT)

    # Sketch41 → Cut-Extrude18 (cut)
    with BuildSketch(Plane(origin=(0, 0, -4), x_dir=(-1, 0, 0), z_dir=(0, 0, -1))):
        with Locations((6.75, 10.255)):
            Rectangle(SKETCH41_W, SKETCH41_H)
    extrude(amount=-CUT_EXTRUDE18_DEPTH, mode=Mode.SUBTRACT)

    # Croquis3 → Cortar-Extruir3 (cut)
    with BuildSketch(Plane(origin=(4, 0, 0), x_dir=(0, 0, -1), z_dir=(1, 0, 0))):
        with Locations((-0.25, 7.486662884)):
            Rectangle(CROQUIS3_W, CROQUIS3_H)
    extrude(amount=-CORTAR_EXTRUIR3_DEPTH, mode=Mode.SUBTRACT)


solid = part.part
